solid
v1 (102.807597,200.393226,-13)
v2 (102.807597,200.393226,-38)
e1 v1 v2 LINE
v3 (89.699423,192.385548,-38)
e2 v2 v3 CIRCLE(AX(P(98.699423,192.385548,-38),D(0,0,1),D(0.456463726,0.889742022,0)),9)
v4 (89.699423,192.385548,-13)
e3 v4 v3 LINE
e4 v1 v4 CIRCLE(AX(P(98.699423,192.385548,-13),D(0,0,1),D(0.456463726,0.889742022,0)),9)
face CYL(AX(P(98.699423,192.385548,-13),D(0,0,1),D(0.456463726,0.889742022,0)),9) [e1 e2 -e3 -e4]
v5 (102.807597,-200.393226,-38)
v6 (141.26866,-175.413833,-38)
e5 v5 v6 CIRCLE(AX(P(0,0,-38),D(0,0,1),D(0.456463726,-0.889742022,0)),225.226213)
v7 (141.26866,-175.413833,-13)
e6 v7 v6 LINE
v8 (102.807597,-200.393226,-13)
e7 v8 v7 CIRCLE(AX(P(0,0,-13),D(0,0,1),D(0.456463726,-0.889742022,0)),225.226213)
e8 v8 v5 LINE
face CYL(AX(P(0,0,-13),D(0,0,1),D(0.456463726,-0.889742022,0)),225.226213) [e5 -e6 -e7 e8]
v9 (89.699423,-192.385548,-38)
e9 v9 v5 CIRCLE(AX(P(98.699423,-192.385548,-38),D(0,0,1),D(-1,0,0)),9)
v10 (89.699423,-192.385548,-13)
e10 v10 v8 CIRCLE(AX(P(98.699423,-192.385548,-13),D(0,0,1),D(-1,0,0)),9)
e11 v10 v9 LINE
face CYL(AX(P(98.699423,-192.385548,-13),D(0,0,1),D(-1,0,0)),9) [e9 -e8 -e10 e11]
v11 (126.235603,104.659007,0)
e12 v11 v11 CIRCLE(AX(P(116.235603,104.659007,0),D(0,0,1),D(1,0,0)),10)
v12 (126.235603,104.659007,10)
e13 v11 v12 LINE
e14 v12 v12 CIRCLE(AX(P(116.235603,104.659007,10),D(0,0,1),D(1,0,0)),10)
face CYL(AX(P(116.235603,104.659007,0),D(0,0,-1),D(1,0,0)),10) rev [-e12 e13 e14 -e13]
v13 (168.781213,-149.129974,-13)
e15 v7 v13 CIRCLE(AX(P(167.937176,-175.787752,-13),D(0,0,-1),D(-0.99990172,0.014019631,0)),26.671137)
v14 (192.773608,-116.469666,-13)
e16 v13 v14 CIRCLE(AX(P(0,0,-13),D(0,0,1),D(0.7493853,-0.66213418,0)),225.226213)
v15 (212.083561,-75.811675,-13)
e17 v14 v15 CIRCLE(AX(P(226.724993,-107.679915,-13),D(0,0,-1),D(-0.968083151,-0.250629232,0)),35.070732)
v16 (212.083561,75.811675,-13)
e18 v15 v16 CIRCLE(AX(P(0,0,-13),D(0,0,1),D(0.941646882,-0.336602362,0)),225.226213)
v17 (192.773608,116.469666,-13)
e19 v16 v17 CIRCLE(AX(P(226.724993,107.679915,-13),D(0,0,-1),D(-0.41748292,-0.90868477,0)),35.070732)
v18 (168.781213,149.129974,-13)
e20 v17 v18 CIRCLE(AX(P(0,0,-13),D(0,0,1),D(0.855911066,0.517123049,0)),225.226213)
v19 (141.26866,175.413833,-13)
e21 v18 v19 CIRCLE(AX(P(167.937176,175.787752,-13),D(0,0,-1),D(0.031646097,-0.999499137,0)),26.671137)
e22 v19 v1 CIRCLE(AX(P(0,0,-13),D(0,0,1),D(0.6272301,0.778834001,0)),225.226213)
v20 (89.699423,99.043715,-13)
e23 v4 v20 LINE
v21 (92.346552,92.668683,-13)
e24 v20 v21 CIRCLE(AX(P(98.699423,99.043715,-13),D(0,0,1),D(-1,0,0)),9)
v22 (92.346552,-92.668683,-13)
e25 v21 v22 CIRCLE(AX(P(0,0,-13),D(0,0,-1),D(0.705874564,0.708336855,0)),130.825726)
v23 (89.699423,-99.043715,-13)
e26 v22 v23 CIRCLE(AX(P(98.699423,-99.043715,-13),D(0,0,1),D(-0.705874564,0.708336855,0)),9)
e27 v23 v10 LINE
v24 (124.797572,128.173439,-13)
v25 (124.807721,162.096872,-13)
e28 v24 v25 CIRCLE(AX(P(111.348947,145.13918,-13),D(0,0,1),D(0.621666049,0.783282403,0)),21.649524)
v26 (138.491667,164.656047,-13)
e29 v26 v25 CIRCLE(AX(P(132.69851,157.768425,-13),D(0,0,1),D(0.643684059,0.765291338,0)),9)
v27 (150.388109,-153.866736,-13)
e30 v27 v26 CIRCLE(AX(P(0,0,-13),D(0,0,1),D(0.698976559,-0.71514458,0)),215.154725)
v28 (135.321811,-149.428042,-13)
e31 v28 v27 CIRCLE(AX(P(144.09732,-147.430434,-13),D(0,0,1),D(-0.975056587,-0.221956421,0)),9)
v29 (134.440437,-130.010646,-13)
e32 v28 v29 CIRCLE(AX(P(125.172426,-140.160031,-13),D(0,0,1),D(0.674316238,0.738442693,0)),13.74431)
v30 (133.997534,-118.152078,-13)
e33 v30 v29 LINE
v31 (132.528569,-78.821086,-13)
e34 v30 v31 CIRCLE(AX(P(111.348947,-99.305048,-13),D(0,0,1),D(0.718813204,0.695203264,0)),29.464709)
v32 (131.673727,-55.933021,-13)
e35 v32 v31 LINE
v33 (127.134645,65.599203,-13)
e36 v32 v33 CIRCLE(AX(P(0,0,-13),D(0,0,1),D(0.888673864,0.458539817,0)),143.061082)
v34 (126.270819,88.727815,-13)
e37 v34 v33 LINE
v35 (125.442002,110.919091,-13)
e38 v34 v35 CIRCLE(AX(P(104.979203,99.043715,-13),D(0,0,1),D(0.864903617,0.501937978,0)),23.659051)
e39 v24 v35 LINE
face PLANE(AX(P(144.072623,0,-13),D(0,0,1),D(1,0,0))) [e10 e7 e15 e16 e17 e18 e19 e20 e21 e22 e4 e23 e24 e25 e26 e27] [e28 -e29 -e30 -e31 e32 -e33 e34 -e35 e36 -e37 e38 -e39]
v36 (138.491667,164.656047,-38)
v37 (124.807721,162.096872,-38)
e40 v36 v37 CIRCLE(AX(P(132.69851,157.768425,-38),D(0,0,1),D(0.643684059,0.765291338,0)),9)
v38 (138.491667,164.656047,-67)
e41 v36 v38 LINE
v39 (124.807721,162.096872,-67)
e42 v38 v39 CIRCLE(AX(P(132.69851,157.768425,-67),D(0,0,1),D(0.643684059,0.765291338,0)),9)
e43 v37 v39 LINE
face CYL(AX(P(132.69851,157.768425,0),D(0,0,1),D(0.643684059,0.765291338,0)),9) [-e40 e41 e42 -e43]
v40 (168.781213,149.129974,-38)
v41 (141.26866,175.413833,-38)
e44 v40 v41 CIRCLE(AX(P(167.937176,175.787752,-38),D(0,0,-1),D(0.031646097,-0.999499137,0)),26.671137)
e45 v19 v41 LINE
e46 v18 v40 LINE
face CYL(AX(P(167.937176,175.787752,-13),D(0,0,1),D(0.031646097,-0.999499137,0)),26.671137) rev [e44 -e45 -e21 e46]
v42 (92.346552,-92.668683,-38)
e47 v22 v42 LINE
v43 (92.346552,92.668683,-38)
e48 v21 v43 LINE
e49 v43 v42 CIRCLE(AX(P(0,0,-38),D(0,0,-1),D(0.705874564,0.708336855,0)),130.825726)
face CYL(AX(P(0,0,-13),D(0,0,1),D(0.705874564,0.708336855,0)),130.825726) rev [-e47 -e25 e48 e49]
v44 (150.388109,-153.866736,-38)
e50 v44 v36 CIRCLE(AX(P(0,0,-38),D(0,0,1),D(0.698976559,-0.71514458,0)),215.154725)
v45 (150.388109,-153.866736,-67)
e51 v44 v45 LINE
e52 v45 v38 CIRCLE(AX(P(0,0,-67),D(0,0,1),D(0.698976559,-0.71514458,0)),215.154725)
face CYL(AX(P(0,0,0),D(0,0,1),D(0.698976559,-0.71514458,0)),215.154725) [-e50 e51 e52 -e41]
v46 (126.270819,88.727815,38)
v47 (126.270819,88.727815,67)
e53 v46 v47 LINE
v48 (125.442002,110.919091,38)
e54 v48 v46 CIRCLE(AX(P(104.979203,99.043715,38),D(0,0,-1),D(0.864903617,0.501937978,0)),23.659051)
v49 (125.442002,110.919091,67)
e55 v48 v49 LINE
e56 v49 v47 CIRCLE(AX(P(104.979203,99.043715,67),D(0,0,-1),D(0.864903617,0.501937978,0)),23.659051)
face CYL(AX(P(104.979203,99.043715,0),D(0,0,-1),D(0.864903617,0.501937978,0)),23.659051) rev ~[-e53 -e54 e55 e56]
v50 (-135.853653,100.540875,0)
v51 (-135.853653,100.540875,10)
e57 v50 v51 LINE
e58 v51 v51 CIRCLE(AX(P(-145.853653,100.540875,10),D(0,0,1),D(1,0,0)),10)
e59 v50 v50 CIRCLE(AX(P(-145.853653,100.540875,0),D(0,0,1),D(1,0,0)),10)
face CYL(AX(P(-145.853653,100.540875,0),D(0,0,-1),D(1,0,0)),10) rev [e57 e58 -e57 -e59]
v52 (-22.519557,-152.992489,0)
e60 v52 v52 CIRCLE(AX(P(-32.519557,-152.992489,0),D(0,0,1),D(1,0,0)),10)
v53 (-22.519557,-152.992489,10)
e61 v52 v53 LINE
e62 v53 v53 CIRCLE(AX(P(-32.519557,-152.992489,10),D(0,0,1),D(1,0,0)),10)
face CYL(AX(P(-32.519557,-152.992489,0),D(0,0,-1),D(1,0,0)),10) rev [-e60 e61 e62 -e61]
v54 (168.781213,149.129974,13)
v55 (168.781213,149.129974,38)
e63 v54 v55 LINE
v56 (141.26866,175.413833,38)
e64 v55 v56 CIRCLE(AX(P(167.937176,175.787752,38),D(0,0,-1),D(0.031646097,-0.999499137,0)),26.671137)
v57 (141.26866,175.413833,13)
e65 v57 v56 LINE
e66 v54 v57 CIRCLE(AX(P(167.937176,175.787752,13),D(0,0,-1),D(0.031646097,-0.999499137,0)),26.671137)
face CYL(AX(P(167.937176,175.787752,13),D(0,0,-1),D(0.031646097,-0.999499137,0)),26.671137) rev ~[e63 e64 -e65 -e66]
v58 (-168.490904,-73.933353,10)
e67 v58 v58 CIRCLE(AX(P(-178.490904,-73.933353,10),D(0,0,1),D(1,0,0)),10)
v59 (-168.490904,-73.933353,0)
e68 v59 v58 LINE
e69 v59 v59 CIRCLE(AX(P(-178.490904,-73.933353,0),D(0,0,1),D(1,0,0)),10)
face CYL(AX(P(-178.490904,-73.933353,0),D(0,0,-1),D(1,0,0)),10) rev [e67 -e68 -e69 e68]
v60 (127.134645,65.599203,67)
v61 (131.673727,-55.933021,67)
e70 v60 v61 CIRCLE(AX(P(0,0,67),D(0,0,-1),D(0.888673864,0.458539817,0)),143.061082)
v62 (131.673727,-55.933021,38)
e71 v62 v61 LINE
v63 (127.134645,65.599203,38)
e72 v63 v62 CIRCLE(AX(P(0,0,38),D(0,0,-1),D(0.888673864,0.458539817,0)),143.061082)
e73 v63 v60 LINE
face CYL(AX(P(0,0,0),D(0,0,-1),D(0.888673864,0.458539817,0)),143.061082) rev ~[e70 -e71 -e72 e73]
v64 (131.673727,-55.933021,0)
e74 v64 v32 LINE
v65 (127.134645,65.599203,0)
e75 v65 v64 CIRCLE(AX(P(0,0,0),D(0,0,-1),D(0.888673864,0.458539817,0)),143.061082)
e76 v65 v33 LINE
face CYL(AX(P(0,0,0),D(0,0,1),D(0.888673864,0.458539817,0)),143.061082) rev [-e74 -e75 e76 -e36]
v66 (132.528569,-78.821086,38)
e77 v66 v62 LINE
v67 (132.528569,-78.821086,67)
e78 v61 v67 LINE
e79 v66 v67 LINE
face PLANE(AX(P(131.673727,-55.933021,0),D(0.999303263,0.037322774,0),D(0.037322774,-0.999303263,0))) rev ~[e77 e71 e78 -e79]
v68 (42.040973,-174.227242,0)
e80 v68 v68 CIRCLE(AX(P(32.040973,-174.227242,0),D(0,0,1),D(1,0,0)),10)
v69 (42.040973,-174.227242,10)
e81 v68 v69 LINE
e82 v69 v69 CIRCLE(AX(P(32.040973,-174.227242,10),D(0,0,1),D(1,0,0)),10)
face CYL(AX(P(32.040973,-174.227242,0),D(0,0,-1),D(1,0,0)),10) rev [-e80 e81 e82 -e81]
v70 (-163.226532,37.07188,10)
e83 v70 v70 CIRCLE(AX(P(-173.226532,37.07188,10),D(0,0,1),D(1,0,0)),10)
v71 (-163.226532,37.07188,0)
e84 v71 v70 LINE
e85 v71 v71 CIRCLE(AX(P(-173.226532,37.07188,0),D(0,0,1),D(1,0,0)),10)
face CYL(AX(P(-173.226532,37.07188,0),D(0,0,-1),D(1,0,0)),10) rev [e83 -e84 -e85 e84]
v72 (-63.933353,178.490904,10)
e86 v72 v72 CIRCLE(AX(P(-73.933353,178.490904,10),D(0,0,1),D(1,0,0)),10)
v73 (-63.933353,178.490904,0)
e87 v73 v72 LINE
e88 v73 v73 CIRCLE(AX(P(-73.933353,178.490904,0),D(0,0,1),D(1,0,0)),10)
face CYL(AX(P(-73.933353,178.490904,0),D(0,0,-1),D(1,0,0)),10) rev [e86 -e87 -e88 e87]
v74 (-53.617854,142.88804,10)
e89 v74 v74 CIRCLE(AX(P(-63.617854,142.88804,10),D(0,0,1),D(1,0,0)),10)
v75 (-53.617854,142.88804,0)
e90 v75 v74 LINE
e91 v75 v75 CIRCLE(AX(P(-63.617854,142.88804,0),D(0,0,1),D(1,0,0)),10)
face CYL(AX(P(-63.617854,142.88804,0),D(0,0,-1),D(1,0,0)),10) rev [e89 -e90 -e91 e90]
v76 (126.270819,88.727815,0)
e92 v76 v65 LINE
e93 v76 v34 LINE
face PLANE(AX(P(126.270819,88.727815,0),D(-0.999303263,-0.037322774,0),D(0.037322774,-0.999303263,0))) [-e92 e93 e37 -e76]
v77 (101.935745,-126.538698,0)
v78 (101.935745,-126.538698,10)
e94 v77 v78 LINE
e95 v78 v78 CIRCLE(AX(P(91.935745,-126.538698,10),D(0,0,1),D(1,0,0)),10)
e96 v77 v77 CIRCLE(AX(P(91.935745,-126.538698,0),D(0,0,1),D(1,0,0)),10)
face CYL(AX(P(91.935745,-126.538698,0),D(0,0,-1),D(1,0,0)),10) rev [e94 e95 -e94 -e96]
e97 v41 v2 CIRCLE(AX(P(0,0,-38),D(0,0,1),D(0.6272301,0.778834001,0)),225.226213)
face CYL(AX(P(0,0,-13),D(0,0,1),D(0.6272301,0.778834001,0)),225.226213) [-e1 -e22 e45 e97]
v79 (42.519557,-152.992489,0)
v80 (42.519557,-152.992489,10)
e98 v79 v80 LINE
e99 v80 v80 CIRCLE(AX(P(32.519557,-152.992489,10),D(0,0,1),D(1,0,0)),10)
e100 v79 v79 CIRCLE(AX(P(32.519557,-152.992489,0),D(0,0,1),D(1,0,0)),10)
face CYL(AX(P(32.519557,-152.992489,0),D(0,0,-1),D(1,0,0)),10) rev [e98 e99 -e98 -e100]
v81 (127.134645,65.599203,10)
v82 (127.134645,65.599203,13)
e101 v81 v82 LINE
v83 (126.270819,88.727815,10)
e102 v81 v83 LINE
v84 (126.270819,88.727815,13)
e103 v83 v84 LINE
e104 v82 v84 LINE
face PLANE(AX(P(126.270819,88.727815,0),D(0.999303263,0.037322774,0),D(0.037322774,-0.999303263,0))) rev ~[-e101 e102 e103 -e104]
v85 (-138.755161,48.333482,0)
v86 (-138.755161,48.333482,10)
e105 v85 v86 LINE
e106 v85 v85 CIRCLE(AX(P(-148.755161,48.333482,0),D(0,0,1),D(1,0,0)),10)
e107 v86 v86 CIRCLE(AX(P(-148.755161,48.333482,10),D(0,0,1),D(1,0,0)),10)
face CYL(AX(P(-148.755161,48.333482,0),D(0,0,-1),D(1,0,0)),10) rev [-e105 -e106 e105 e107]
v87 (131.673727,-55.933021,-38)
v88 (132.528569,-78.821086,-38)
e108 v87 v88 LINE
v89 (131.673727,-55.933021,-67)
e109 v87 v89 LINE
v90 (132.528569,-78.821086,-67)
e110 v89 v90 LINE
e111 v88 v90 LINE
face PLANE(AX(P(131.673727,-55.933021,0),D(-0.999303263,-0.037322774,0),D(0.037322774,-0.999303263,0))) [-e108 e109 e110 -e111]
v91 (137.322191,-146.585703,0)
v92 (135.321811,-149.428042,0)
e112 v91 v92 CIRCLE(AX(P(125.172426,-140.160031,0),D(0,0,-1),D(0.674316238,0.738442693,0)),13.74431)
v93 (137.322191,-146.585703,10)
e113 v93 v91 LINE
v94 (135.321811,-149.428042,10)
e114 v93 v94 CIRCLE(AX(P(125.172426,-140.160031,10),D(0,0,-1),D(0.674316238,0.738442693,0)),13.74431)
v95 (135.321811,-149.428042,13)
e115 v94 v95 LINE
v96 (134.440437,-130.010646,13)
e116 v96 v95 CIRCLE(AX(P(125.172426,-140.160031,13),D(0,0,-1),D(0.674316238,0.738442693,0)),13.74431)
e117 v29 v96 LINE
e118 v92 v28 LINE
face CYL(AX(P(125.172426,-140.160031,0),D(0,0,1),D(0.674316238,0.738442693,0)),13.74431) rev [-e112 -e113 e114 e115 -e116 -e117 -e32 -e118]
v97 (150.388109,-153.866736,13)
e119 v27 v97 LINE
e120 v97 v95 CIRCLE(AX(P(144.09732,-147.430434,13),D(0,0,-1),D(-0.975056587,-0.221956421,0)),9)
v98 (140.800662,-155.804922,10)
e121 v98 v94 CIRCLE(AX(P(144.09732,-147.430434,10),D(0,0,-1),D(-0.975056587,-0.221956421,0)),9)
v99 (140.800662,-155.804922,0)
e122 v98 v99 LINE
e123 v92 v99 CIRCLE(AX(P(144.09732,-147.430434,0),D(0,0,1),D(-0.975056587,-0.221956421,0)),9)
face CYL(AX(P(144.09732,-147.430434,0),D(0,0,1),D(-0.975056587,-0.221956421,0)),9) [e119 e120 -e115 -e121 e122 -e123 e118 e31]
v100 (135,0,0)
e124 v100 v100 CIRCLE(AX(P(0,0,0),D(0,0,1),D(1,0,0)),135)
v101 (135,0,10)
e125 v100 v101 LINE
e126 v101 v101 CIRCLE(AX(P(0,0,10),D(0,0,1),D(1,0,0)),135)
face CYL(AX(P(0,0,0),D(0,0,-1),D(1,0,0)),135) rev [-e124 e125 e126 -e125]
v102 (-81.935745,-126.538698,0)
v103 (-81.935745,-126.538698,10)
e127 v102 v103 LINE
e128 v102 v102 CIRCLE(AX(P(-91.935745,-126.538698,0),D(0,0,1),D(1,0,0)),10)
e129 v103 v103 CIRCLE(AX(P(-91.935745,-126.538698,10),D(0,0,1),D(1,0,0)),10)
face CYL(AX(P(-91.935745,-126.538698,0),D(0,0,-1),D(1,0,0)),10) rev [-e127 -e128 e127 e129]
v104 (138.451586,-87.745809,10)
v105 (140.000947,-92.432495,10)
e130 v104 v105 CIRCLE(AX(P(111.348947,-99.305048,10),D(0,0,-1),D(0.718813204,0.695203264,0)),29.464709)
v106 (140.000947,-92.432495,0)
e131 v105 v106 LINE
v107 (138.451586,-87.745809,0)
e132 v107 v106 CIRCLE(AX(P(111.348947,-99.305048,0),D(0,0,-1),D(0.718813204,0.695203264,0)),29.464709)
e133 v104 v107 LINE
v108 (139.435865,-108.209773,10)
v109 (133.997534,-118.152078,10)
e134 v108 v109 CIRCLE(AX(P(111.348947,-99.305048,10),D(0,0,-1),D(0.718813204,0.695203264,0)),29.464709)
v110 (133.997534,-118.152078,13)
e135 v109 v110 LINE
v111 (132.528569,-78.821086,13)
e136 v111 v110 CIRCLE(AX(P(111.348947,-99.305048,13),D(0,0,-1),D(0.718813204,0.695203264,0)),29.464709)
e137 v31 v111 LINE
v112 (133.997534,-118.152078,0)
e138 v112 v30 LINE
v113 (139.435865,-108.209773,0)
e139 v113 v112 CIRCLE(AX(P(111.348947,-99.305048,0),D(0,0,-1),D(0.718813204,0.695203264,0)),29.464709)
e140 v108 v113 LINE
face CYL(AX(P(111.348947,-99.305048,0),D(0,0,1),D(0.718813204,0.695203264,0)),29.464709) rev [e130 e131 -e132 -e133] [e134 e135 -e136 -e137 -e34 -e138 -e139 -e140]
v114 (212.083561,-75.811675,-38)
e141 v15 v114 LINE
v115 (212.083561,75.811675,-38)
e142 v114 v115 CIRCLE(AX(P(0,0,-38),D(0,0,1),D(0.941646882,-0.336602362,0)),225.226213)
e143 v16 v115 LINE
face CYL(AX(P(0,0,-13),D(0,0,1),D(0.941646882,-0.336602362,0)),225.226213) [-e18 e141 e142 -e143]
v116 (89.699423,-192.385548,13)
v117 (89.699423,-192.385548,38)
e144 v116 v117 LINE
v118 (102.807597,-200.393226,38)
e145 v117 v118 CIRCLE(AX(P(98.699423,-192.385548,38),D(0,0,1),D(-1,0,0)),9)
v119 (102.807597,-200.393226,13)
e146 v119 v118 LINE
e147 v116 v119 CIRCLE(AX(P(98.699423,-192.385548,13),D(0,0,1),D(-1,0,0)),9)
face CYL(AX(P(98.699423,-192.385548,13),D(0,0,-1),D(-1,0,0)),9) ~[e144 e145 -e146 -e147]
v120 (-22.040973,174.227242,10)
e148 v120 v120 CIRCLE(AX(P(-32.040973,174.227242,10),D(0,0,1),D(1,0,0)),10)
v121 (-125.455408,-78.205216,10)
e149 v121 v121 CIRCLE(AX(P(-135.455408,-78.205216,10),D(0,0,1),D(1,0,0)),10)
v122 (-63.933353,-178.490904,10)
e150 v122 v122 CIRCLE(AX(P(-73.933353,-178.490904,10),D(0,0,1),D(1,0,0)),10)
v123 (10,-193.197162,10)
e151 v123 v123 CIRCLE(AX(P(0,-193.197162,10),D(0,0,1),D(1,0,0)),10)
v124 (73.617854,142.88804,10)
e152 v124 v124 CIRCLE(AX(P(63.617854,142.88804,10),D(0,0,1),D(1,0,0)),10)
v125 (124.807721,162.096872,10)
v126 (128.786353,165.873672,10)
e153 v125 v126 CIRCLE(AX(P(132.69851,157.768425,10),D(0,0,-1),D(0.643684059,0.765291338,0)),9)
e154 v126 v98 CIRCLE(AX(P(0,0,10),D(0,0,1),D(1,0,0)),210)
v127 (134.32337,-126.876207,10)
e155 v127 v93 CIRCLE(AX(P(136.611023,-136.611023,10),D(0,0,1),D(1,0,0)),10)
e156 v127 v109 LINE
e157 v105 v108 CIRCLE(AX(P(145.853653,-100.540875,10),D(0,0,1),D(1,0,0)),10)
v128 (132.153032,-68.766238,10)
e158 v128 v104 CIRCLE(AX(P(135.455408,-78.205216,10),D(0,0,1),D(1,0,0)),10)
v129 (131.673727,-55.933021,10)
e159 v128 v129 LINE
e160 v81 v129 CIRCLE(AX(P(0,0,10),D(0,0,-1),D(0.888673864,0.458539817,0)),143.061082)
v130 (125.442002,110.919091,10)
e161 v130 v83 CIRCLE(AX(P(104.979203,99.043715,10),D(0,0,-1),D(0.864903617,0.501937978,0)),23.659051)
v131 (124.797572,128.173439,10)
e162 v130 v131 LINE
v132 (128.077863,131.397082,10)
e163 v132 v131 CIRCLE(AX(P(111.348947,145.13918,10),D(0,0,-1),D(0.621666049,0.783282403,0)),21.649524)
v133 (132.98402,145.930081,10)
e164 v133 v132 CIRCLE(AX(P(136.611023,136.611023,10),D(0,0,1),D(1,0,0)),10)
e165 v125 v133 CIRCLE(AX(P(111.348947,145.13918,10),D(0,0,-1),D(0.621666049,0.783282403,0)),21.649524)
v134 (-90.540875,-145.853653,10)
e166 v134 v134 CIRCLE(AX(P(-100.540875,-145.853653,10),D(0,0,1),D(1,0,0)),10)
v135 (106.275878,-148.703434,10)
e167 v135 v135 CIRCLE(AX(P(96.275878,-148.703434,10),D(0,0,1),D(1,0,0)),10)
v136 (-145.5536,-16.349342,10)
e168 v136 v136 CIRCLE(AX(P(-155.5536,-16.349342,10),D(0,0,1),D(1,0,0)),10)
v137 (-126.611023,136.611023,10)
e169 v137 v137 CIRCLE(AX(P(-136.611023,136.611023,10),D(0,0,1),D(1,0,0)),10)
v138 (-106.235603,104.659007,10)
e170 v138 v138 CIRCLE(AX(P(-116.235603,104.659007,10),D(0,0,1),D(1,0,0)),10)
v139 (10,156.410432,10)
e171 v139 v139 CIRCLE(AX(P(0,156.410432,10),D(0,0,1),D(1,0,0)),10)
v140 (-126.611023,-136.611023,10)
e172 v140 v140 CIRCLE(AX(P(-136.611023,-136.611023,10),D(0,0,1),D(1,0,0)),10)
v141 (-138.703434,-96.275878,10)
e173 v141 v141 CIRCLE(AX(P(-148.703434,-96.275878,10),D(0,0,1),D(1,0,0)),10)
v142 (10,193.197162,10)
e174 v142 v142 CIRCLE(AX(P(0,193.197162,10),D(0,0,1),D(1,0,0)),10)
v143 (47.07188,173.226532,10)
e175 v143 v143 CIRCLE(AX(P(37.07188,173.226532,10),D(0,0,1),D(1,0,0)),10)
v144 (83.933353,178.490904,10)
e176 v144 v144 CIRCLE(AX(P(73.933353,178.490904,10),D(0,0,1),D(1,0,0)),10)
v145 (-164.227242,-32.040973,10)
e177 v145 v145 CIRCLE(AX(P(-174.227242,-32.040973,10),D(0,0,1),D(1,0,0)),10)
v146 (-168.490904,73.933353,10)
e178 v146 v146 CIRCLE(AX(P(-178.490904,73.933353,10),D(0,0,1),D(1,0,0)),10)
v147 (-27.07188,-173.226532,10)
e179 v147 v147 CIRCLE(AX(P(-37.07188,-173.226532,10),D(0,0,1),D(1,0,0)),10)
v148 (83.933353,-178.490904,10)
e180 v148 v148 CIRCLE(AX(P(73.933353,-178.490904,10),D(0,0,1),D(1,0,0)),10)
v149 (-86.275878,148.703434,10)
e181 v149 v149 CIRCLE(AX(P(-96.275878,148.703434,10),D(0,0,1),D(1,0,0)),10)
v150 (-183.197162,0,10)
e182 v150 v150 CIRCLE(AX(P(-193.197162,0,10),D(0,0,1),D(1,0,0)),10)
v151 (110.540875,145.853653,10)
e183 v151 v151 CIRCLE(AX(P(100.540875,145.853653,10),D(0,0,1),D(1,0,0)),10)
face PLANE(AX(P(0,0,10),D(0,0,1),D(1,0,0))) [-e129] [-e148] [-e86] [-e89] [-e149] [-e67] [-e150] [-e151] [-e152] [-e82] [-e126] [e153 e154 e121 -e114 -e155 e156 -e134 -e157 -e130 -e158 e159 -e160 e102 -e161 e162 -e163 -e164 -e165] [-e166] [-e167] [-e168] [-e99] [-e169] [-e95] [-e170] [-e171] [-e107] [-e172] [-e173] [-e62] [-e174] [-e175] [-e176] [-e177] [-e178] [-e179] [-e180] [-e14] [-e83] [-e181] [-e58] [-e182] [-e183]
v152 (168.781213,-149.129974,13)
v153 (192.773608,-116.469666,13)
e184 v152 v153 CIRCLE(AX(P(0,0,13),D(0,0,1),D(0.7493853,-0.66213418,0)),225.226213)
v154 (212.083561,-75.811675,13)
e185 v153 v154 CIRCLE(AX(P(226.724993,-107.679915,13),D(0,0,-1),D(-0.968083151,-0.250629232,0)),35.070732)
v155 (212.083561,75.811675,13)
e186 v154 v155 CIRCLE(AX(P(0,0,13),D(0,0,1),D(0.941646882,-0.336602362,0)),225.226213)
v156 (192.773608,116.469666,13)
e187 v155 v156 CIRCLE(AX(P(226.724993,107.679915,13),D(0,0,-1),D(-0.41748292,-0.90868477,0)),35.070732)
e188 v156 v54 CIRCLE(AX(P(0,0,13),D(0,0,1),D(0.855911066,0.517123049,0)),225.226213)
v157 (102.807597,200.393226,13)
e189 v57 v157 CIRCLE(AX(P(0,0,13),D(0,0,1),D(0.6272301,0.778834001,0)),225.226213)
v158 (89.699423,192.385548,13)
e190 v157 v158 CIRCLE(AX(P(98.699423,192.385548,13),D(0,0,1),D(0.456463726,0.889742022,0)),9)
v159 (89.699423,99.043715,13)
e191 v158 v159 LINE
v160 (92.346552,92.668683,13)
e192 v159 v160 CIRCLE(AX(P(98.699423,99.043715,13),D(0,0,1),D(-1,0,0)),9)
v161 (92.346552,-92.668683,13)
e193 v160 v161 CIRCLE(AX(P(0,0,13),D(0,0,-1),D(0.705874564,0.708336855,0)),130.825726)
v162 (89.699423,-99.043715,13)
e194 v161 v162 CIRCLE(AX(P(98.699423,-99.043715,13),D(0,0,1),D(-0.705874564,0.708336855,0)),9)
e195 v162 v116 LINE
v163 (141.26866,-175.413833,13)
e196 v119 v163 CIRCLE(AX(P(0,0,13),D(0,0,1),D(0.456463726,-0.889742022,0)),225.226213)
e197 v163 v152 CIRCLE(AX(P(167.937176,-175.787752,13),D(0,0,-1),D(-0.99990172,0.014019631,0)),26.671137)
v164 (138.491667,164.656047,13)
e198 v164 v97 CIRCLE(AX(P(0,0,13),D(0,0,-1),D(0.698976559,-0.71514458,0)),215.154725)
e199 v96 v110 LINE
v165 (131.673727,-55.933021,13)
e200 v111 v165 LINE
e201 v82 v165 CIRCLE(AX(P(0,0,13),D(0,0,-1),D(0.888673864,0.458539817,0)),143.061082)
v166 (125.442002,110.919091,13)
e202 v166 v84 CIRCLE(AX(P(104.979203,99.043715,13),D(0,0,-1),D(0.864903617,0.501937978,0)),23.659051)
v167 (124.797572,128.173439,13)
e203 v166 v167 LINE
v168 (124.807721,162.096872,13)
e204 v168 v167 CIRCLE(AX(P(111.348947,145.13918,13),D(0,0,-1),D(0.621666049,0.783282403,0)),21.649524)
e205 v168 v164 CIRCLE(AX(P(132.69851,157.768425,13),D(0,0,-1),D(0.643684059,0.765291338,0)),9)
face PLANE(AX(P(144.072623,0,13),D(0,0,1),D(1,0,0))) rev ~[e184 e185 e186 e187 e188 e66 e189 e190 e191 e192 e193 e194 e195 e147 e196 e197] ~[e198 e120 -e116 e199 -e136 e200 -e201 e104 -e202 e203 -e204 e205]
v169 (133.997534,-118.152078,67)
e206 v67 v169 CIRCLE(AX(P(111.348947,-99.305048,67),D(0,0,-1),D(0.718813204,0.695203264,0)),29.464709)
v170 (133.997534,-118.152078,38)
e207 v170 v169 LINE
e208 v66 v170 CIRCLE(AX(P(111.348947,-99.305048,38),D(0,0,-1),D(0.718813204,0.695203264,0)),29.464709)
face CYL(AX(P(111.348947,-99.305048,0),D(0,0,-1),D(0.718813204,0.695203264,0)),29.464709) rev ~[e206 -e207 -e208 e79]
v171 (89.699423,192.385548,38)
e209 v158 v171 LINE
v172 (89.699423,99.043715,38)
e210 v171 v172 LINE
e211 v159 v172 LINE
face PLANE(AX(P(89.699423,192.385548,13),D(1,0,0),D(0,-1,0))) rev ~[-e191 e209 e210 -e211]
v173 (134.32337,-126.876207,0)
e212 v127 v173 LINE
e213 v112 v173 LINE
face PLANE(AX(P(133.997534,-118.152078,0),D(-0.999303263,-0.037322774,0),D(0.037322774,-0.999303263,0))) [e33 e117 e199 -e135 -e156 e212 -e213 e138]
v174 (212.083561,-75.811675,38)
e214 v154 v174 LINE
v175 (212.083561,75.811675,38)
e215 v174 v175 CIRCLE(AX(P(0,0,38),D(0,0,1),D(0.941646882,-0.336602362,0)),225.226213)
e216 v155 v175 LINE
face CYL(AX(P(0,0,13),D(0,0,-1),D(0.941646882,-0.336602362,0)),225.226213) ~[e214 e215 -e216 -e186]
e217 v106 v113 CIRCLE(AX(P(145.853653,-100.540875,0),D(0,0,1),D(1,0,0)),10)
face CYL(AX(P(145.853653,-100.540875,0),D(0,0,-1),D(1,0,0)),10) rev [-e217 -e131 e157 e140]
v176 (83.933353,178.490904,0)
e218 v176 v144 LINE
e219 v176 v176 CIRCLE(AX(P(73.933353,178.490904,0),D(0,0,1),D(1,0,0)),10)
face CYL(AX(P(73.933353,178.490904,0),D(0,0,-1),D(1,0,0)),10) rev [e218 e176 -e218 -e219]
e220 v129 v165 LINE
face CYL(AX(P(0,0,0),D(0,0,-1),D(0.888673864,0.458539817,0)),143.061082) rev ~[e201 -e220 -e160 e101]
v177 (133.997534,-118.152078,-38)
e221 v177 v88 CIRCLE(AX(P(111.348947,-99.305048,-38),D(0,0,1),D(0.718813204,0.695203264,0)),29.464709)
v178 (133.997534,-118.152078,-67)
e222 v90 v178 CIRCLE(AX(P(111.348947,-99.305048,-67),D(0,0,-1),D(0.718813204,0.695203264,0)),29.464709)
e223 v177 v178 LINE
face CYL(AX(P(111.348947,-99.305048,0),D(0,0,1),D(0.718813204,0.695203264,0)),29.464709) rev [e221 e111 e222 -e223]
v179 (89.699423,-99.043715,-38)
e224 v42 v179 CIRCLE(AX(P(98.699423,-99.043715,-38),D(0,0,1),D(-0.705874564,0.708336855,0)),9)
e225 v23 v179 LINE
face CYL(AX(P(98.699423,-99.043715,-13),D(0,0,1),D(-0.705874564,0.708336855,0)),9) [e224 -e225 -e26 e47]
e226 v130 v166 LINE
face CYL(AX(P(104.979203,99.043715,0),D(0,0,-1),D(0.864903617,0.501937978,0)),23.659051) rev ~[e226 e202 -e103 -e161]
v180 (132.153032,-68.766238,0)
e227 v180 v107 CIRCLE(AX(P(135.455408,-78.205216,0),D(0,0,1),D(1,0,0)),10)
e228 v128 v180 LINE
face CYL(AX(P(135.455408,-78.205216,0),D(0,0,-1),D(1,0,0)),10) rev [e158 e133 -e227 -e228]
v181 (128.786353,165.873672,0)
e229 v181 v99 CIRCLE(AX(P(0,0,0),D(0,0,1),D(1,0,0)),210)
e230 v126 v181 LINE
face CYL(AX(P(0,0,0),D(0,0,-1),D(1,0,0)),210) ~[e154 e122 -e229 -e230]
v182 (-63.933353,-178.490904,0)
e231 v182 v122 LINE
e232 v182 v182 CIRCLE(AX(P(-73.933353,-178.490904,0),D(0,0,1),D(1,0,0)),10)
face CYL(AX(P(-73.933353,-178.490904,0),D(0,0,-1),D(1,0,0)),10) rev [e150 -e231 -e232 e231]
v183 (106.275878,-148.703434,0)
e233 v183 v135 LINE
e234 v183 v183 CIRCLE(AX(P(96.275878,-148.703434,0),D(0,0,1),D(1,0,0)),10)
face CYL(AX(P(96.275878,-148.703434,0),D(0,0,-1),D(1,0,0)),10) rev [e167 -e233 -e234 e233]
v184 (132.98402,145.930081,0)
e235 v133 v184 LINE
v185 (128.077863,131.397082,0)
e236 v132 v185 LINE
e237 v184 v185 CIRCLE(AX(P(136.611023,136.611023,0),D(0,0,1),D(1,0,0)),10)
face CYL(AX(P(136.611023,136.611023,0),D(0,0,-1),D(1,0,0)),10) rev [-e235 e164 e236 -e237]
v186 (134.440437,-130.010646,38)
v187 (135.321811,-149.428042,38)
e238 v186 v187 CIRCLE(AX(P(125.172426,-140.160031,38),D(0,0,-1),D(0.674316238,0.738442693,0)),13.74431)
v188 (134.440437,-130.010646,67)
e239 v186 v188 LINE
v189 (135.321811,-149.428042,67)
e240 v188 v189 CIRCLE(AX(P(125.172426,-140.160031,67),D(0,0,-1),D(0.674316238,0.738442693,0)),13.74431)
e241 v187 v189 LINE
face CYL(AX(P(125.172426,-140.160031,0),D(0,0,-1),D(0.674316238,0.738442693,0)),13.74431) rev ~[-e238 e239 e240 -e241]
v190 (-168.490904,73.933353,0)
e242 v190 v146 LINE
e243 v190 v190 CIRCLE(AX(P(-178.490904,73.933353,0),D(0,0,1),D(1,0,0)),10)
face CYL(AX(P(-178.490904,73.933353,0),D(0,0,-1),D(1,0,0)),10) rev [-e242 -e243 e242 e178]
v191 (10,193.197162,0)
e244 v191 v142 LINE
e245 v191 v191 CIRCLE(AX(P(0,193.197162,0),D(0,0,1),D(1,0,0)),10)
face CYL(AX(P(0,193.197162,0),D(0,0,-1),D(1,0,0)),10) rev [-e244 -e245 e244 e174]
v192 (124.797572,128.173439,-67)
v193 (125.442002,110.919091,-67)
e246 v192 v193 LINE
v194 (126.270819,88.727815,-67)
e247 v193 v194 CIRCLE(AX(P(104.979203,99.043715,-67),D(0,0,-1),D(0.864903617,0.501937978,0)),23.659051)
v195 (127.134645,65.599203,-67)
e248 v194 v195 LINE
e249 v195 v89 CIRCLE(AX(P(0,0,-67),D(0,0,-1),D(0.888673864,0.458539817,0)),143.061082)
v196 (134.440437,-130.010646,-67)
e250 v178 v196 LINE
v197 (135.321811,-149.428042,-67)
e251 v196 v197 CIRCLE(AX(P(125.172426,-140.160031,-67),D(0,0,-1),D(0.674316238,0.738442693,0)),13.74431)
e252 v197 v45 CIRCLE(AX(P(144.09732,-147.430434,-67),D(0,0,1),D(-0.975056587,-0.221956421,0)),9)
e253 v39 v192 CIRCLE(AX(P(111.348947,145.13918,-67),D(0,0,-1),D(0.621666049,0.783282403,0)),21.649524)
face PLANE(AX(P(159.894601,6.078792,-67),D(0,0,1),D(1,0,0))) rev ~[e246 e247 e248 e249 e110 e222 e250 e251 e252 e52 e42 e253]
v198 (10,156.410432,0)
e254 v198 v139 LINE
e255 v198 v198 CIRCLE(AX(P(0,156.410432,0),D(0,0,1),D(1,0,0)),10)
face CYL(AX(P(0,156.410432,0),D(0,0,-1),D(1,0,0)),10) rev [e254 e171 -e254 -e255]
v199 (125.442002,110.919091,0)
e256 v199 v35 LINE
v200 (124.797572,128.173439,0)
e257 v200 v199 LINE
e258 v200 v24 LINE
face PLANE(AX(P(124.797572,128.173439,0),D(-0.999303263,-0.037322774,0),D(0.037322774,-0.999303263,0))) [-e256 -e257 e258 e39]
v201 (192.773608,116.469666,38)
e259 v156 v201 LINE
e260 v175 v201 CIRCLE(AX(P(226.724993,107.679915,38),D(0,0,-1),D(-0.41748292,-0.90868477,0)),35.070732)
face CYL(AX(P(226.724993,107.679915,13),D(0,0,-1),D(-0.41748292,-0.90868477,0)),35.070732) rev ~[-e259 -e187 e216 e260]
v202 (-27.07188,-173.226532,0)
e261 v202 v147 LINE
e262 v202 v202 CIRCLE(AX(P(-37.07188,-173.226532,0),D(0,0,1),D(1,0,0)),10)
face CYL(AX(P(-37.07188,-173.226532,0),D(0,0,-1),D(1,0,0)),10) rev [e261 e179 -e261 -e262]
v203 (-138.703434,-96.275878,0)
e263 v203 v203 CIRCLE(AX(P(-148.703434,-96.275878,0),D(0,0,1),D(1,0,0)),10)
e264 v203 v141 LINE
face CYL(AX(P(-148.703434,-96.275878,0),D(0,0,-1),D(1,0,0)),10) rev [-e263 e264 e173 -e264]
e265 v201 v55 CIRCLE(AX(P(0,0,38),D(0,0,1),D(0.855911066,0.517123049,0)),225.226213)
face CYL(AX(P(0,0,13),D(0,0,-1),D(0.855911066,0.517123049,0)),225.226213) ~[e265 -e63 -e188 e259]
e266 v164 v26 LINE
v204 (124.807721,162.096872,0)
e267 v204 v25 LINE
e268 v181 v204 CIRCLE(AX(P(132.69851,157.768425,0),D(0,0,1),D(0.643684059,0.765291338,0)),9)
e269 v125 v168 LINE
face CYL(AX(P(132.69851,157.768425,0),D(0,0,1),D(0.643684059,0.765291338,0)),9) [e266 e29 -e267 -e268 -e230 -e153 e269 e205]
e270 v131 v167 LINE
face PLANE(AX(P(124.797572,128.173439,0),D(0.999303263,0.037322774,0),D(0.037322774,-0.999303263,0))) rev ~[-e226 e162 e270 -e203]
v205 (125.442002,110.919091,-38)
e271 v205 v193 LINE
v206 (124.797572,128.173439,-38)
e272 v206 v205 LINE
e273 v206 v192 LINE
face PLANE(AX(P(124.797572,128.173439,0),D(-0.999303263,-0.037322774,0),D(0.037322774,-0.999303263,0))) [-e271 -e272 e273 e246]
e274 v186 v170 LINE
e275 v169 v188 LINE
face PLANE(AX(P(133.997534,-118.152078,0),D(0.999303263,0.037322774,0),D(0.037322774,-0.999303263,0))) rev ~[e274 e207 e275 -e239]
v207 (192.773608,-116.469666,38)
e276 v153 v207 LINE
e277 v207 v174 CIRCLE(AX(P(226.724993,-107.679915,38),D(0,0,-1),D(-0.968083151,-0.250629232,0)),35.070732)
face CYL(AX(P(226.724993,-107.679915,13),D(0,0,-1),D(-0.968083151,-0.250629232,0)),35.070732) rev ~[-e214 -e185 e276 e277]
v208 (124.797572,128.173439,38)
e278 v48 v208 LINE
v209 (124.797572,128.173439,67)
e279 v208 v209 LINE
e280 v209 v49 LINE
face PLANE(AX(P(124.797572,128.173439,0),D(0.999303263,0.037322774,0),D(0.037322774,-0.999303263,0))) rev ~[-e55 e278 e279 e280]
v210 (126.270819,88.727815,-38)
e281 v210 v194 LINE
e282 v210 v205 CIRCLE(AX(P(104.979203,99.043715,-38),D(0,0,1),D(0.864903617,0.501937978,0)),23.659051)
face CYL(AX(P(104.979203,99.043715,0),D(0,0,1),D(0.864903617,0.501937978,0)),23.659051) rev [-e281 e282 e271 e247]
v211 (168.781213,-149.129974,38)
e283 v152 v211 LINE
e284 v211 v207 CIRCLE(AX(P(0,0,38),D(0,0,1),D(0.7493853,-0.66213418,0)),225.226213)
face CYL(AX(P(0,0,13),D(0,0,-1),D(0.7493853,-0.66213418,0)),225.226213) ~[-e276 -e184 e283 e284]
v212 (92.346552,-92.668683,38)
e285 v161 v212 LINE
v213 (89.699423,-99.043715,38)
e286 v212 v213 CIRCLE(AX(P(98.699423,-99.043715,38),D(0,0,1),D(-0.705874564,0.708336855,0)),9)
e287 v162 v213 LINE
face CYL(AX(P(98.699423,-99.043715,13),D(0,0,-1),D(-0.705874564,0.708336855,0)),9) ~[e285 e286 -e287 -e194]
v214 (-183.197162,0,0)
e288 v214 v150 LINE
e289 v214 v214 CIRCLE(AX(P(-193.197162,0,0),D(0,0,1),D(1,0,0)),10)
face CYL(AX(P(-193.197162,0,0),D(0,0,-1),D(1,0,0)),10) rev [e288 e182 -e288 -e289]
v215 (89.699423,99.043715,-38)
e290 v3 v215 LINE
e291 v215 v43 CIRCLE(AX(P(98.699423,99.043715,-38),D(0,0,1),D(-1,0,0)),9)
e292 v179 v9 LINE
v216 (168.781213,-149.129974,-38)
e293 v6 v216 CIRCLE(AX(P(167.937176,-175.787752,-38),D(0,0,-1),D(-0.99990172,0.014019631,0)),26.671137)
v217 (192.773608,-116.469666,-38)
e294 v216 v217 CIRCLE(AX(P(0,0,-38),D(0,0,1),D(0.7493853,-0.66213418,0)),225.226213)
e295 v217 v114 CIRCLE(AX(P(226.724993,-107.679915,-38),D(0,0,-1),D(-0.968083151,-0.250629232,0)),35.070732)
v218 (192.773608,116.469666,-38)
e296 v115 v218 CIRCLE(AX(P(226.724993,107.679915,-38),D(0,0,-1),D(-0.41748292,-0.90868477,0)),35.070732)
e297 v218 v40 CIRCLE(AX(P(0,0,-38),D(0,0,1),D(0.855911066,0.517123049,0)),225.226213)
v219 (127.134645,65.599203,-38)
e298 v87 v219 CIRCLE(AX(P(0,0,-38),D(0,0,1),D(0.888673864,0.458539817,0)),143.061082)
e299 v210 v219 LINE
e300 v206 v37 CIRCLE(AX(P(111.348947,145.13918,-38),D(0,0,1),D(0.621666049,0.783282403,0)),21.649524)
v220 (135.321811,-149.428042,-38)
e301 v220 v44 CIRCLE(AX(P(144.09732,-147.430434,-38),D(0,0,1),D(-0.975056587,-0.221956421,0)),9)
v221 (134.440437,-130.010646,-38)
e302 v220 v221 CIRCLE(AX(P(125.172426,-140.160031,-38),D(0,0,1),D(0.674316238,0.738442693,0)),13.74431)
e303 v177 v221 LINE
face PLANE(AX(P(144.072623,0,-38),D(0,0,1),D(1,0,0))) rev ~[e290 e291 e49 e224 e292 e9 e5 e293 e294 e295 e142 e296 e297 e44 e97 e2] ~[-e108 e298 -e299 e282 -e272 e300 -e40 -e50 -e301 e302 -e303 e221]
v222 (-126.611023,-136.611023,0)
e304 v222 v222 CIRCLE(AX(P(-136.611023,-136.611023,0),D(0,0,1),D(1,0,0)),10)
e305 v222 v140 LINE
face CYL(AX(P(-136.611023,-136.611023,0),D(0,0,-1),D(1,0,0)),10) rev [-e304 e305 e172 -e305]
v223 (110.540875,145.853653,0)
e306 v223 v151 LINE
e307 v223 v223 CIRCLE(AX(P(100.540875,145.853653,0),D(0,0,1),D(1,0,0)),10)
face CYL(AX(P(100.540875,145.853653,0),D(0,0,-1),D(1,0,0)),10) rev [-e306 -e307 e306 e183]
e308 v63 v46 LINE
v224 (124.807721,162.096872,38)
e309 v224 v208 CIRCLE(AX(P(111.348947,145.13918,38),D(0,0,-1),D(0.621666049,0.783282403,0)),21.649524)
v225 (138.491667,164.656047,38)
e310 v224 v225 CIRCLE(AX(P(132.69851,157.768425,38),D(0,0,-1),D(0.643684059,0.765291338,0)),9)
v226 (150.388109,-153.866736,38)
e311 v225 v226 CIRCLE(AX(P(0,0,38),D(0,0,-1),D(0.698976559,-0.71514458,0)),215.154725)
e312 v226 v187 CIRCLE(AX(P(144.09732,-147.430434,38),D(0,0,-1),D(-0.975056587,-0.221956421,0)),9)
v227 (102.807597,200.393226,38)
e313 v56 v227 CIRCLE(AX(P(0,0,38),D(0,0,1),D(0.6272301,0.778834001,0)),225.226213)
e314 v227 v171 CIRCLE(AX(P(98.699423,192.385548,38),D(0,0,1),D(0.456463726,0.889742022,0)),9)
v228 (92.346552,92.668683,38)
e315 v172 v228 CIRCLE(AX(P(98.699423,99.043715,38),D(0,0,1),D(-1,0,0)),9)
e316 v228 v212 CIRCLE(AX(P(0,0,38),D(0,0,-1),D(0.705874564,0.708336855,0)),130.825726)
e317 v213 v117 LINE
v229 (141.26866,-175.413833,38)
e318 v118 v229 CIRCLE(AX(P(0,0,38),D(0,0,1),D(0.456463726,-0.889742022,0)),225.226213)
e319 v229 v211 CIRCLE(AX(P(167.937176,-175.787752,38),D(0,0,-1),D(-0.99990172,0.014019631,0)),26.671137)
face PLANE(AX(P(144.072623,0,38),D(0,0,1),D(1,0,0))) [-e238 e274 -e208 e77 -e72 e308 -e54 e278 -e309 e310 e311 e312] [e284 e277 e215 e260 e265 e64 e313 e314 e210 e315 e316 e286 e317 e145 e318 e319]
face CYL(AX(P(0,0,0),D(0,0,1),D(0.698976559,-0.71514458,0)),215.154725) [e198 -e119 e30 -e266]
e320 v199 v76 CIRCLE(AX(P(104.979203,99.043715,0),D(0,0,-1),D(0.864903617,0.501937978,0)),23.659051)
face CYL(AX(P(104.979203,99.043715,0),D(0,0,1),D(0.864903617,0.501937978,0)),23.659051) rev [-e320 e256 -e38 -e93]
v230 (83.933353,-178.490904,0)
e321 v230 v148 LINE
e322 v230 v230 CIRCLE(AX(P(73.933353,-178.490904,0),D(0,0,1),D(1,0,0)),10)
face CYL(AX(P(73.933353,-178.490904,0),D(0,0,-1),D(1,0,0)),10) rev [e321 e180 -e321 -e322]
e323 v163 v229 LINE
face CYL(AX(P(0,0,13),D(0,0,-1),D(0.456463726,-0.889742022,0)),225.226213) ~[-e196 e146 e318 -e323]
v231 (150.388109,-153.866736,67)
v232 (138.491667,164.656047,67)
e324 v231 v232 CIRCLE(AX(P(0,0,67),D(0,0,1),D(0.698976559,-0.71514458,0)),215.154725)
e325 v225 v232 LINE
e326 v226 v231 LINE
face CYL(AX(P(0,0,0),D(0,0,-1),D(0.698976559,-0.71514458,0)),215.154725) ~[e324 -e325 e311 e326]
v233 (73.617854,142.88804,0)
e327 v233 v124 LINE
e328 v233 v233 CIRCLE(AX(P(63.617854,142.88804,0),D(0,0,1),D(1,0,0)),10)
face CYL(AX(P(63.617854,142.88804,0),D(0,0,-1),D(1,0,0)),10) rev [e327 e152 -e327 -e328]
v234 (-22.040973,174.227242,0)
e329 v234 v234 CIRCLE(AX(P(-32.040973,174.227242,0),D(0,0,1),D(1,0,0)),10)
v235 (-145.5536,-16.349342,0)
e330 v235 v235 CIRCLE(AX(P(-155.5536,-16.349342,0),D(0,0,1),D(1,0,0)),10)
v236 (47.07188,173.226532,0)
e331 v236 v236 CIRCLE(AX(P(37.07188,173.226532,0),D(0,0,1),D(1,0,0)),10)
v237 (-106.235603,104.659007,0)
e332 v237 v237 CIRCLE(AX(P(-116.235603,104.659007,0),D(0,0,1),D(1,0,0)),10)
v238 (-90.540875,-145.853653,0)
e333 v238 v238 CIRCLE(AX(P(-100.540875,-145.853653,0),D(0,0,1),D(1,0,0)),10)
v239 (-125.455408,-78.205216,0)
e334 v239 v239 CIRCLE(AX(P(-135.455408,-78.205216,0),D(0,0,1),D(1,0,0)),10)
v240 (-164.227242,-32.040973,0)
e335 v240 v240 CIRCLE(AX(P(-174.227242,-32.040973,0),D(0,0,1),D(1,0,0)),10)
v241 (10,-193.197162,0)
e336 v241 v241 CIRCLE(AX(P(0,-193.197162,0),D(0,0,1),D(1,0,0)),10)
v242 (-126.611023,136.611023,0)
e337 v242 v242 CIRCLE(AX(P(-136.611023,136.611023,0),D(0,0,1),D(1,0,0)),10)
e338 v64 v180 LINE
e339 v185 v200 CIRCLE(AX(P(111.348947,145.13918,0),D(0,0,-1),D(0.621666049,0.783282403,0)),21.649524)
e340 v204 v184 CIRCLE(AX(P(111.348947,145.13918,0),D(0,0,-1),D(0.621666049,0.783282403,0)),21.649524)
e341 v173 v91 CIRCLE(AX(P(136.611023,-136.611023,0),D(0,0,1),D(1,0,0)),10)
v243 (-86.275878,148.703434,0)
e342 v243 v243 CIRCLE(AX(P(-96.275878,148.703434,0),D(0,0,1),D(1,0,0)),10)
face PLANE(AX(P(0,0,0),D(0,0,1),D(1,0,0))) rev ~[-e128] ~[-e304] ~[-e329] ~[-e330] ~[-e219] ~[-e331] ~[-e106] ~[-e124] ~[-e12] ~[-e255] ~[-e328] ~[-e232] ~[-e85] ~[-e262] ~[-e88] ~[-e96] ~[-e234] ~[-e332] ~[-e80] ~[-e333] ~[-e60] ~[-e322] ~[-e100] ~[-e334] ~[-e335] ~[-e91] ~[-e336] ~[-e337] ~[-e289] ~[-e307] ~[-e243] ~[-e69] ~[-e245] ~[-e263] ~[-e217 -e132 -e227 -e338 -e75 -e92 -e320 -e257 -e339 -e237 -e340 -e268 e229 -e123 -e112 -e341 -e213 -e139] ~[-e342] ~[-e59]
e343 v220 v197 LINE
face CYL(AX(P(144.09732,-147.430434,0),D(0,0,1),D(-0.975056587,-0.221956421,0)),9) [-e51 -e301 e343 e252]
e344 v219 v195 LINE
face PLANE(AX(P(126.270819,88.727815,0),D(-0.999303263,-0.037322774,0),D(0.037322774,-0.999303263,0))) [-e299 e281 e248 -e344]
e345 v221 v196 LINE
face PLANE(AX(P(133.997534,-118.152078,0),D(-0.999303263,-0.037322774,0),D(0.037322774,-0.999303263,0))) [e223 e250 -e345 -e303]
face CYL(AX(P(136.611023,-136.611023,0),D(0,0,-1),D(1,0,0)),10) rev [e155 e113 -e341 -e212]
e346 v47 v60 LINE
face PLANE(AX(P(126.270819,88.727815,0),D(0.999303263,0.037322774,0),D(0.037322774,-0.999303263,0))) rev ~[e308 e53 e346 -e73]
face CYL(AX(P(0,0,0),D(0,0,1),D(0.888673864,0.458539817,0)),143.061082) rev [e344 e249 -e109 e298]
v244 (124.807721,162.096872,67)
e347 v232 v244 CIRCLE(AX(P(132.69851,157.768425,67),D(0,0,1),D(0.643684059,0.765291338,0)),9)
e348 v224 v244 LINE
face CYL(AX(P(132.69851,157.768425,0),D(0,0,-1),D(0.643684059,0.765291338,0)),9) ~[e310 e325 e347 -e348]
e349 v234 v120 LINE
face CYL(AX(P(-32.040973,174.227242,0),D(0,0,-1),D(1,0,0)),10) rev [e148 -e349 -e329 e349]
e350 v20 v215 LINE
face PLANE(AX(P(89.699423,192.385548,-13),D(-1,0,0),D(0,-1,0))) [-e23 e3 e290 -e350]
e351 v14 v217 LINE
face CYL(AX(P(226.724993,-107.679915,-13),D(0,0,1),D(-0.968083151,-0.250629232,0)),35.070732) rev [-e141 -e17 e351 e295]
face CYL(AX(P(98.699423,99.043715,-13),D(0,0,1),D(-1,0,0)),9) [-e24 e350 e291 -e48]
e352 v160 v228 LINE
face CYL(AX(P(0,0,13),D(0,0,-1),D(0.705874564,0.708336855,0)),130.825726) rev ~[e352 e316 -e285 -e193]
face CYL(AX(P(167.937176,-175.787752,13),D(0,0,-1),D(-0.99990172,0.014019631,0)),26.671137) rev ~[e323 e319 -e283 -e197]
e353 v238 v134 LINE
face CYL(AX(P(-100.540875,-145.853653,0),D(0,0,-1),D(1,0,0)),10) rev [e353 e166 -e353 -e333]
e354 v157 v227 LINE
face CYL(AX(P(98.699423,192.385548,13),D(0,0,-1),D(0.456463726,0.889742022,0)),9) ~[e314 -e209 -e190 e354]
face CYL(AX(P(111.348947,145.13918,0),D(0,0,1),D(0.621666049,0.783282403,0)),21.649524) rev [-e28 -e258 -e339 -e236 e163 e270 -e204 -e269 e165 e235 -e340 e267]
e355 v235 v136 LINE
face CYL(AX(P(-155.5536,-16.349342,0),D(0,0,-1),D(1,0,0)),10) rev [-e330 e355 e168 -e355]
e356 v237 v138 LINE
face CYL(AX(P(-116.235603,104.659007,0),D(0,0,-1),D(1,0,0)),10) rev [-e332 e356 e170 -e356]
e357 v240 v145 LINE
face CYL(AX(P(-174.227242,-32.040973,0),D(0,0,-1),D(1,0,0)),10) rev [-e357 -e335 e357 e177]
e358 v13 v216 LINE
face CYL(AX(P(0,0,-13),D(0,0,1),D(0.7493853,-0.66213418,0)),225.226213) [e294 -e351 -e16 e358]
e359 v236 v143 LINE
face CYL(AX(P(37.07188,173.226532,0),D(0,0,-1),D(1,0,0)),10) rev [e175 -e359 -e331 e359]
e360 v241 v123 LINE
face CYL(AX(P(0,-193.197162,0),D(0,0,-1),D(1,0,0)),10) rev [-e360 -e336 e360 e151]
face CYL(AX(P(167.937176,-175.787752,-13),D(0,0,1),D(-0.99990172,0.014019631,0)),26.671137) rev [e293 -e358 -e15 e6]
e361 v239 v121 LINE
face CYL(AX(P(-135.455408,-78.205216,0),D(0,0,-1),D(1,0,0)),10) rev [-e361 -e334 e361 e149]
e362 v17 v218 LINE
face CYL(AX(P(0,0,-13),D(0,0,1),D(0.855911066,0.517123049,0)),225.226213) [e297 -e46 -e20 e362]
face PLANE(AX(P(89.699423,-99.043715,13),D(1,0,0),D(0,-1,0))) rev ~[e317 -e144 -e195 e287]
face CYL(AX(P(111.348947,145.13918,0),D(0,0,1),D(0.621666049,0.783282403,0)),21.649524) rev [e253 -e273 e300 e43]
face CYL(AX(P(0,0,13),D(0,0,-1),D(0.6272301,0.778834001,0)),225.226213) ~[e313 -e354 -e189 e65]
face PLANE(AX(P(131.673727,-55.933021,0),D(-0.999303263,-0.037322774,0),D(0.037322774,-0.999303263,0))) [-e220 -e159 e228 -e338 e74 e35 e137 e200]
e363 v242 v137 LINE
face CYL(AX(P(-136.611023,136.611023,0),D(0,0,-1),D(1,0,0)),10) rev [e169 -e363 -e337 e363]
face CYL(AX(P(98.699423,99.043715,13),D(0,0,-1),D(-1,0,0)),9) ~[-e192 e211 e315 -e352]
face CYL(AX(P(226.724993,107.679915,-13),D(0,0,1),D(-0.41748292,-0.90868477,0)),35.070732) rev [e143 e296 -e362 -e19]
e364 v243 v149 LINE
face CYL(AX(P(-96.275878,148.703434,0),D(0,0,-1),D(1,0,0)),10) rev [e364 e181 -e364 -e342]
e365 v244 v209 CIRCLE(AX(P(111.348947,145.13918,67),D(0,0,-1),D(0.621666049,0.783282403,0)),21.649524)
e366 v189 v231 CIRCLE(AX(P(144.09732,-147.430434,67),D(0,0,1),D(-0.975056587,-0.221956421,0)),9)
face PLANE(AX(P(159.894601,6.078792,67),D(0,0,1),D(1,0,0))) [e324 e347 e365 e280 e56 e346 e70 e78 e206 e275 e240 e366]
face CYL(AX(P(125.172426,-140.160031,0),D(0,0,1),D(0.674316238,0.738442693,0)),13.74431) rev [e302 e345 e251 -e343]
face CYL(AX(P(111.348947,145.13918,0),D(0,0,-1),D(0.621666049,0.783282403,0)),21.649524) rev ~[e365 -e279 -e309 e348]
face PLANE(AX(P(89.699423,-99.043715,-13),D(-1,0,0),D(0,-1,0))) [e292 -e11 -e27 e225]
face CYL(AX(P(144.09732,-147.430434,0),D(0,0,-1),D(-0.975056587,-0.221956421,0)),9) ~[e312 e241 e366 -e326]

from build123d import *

# Parameters (mm, degrees)
SKETCH2_R                = 210
SKETCH2_R_2              = 135
BOSS_EXTRUDE1_DEPTH      = 10
CUT_EXTRUDE1_DEPTH       = 10
CUT_EXTRUDE1_DEPTH_BACK  = 10
SKETCH3_R                = 10
BOSS_EXTRUDE2_DEPTH      = 25
BOSS_EXTRUDE3_DEPTH      = 25
BOSS_EXTRUDE4_DEPTH      = 67
BOSS_EXTRUDE4_DEPTH_BACK = 67


with BuildPart() as part:
    # Sketch2 → Boss-Extrude1 (new body)
    with BuildSketch(Plane.XY):
        Circle(SKETCH2_R)
        Circle(SKETCH2_R_2, mode=Mode.SUBTRACT)
    extrude(amount=BOSS_EXTRUDE1_DEPTH)

    # Sketch3 → Cut-Extrude1 (cut, two sides: drawn at the far end of the back side and taken through both)
    with BuildSketch(Plane.XY.offset(-CUT_EXTRUDE1_DEPTH_BACK)):
        with Locations((0, 193.197162002)):
            Circle(SKETCH3_R)
        with Locations((37.071880295, 173.226532384)):
            Circle(SKETCH3_R)
        with Locations((100.540875426, 145.853653362)):
            Circle(SKETCH3_R)
        with Locations((148.703433678, 96.275877783)):
            Circle(SKETCH3_R)
        with Locations((174.227242153, 32.040972553)):
            Circle(SKETCH3_R)
        with Locations((173.226532384, -37.071880295)):
            Circle(SKETCH3_R)
        with Locations((145.853653362, -100.540875426)):
            Circle(SKETCH3_R)
        with Locations((96.275877783, -148.703433678)):
            Circle(SKETCH3_R)
        with Locations((32.040972554, -174.227242153)):
            Circle(SKETCH3_R)
        with Locations((-37.071880295, -173.226532384)):
            Circle(SKETCH3_R)
        with Locations((-100.540875426, -145.853653362)):
            Circle(SKETCH3_R)
        with Locations((-148.703433678, -96.275877783)):
            Circle(SKETCH3_R)
        with Locations((-174.227242153, -32.040972553)):
            Circle(SKETCH3_R)
        with Locations((-173.226532384, 37.071880295)):
            Circle(SKETCH3_R)
        with Locations((-145.853653362, 100.540875426)):
            Circle(SKETCH3_R)
        with Locations((-96.275877783, 148.703433678)):
            Circle(SKETCH3_R)
        with Locations((-32.040972553, 174.227242153)):
            Circle(SKETCH3_R)
        with Locations((73.933353078, 178.490903713)):
            Circle(SKETCH3_R)
        with Locations((136.611023358, 136.611023358)):
            Circle(SKETCH3_R)
        with Locations((178.490903713, 73.933353078)):
            Circle(SKETCH3_R)
        with Locations((193.197162002, 0)):
            Circle(SKETCH3_R)
        with Locations((178.490903713, -73.933353078)):
            Circle(SKETCH3_R)
        with Locations((136.611023358, -136.611023358)):
            Circle(SKETCH3_R)
        with Locations((73.933353078, -178.490903713)):
            Circle(SKETCH3_R)
        with Locations((0, -193.197162002)):
            Circle(SKETCH3_R)
        with Locations((-73.933353078, -178.490903713)):
            Circle(SKETCH3_R)
        with Locations((-136.611023358, -136.611023358)):
            Circle(SKETCH3_R)
        with Locations((-178.490903713, -73.933353078)):
            Circle(SKETCH3_R)
        with Locations((-193.197162002, 0)):
            Circle(SKETCH3_R)
        with Locations((-178.490903713, 73.933353078)):
            Circle(SKETCH3_R)
        with Locations((-136.611023358, 136.611023358)):
            Circle(SKETCH3_R)
        with Locations((-73.933353078, 178.490903713)):
            Circle(SKETCH3_R)
        with Locations((0, 156.410432221)):
            Circle(SKETCH3_R)
        with Locations((63.617854144, 142.888039883)):
            Circle(SKETCH3_R)
        with Locations((116.235603356, 104.659007353)):
            Circle(SKETCH3_R)
        with Locations((148.75516078, 48.333481654)):
            Circle(SKETCH3_R)
        with Locations((155.553599508, -16.349342119)):
            Circle(SKETCH3_R)
        with Locations((135.45540772, -78.20521611)):
            Circle(SKETCH3_R)
        with Locations((91.935745364, -126.538697764)):
            Circle(SKETCH3_R)
        with Locations((32.519557425, -152.992489006)):
            Circle(SKETCH3_R)
        with Locations((-32.519557425, -152.992489006)):
            Circle(SKETCH3_R)
        with Locations((-91.935745364, -126.538697764)):
            Circle(SKETCH3_R)
        with Locations((-135.45540772, -78.20521611)):
            Circle(SKETCH3_R)
        with Locations((-155.553599508, -16.349342119)):
            Circle(SKETCH3_R)
        with Locations((-148.75516078, 48.333481654)):
            Circle(SKETCH3_R)
        with Locations((-116.235603356, 104.659007353)):
            Circle(SKETCH3_R)
        with Locations((-63.617854143, 142.888039883)):
            Circle(SKETCH3_R)
    extrude(amount=CUT_EXTRUDE1_DEPTH + CUT_EXTRUDE1_DEPTH_BACK, mode=Mode.SUBTRACT)



with BuildPart() as body_2:
    # Sketch4 → Boss-Extrude2 (new body)
    with BuildSketch(Plane.XY.offset(13)):
        with BuildLine():
            Line((89.699423037, 192.385548243), (89.699423037, 99.043714713))
            ThreePointArc((89.699423037, 99.043714713), (90.387508707, 95.592326562), (92.346551963, 92.668683018))
            ThreePointArc((92.346551963, 92.668683018), (130.825725573, 0), (92.346551963, -92.668683018))
            ThreePointArc((92.346551963, -92.668683018), (90.387508707, -95.592326562), (89.699423037, -99.043714713))
            Line((89.699423037, -99.043714713), (89.699423037, -192.385548243))
            ThreePointArc((89.699423037, -192.385548243), (94.00759833, -200.065833454), (102.807596575, -200.393226445))
            ThreePointArc((102.807596575, -200.393226445), (122.675577525, -188.885017398), (141.268660314, -175.413832783))
            ThreePointArc((141.268660314, -175.413832783), (149.513380795, -156.502698139), (168.781213285, -149.129974051))
            ThreePointArc((168.781213285, -149.129974051), (181.513487561, -133.340545041), (192.773608207, -116.469665997))
            ThreePointArc((192.773608207, -116.469665997), (195.045606898, -92.634226865), (212.083561399, -75.811675242))
            ThreePointArc((212.083561399, -75.811675242), (225.226213214, 0), (212.083561399, 75.811675242))
            ThreePointArc((212.083561399, 75.811675242), (195.045606898, 92.634226865), (192.773608207, 116.469665997))
            ThreePointArc((192.773608207, 116.469665997), (181.513487561, 133.340545041), (168.781213285, 149.129974051))
            ThreePointArc((168.781213285, 149.129974051), (149.513380795, 156.502698139), (141.268660314, 175.413832783))
            ThreePointArc((141.268660314, 175.413832783), (122.675577525, 188.885017398), (102.807596575, 200.393226445))
            ThreePointArc((102.807596575, 200.393226445), (94.00759833, 200.065833454), (89.699423037, 192.385548243))
        make_face()
    extrude(amount=BOSS_EXTRUDE2_DEPTH)


with BuildPart() as body_3:
    # Sketch6 → Boss-Extrude3 (new body)
    with BuildSketch(Plane(origin=(0, 0, -13), x_dir=(-1, 0, 0), z_dir=(0, 0, -1))):
        with BuildLine():
            Line((-89.699423037, -99.043714713), (-89.699423037, -192.385548243))
            ThreePointArc((-89.699423037, -192.385548243), (-94.00759833, -200.065833454), (-102.807596575, -200.393226445))
            ThreePointArc((-102.807596575, -200.393226445), (-122.675577525, -188.885017398), (-141.268660314, -175.413832783))
            ThreePointArc((-141.268660314, -175.413832783), (-149.513380795, -156.502698139), (-168.781213285, -149.129974051))
            ThreePointArc((-168.781213285, -149.129974051), (-181.513487561, -133.340545041), (-192.773608207, -116.469665997))
            ThreePointArc((-192.773608207, -116.469665997), (-195.045606898, -92.634226865), (-212.083561399, -75.811675242))
            ThreePointArc((-212.083561399, -75.811675242), (-225.226213214, 0), (-212.083561399, 75.811675242))
            ThreePointArc((-212.083561399, 75.811675242), (-195.045606898, 92.634226865), (-192.773608207, 116.469665997))
            ThreePointArc((-192.773608207, 116.469665997), (-181.513487561, 133.340545041), (-168.781213285, 149.129974051))
            ThreePointArc((-168.781213285, 149.129974051), (-149.513380795, 156.502698139), (-141.268660314, 175.413832783))
            ThreePointArc((-141.268660314, 175.413832783), (-122.675577525, 188.885017398), (-102.807596575, 200.393226445))
            ThreePointArc((-102.807596575, 200.393226445), (-94.00759833, 200.065833454), (-89.699423037, 192.385548243))
            Line((-89.699423037, 192.385548243), (-89.699423037, 99.043714713))
            ThreePointArc((-89.699423037, 99.043714713), (-90.387508707, 95.592326562), (-92.346551963, 92.668683018))
            ThreePointArc((-92.346551963, 92.668683018), (-130.825725573, 0), (-92.346551963, -92.668683018))
            ThreePointArc((-92.346551963, -92.668683018), (-90.387508707, -95.592326562), (-89.699423037, -99.043714713))
        make_face()
    extrude(amount=BOSS_EXTRUDE3_DEPTH)


with BuildPart() as part_1:
    add(part.part)

    add(body_2.part)  # Boss-Extrude4 merges body 2

    add(body_3.part)  # Boss-Extrude4 merges body 3
    # Sketch7 → Boss-Extrude4 (add, two sides: drawn at the far end of the back side and taken through both)
    with BuildSketch(Plane.XY.offset(-BOSS_EXTRUDE4_DEPTH_BACK)):
        with BuildLine():
            Line((124.797572435, 128.173439312), (125.442001569, 110.919091112))
            ThreePointArc((125.442001569, 110.919091112), (128.621769694, 99.926736137), (126.270819, 88.727815472))
            Line((126.270819, 88.727815472), (127.134644848, 65.599202612))
            ThreePointArc((127.134644848, 65.599202612), (142.961406409, 5.33943643), (131.673727115, -55.933021476))
            Line((131.673727115, -55.933021476), (132.528568771, -78.821085957))
            ThreePointArc((132.528568771, -78.821085957), (140.793126639, -98.20534295), (133.997533992, -118.152078436))
            Line((133.997533992, -118.152078436), (134.440437213, -130.010645939))
            ThreePointArc((134.440437213, -130.010645939), (138.90259856, -139.536805522), (135.321811068, -149.428042109))
            ThreePointArc((135.321811068, -149.428042109), (141.553905611, -156.063570567), (150.388109377, -153.866735539))
            ThreePointArc((150.388109377, -153.866735539), (215.00481878, 8.030171155), (138.491666876, 164.656047424))
            ThreePointArc((138.491666876, 164.656047424), (131.044013158, 166.615042764), (124.807721177, 162.096871567))
            ThreePointArc((124.807721177, 162.096871567), (132.998470182, 145.132703527), (124.797572435, 128.173439312))
        make_face()
    extrude(amount=BOSS_EXTRUDE4_DEPTH + BOSS_EXTRUDE4_DEPTH_BACK)


solid = part_1.part
